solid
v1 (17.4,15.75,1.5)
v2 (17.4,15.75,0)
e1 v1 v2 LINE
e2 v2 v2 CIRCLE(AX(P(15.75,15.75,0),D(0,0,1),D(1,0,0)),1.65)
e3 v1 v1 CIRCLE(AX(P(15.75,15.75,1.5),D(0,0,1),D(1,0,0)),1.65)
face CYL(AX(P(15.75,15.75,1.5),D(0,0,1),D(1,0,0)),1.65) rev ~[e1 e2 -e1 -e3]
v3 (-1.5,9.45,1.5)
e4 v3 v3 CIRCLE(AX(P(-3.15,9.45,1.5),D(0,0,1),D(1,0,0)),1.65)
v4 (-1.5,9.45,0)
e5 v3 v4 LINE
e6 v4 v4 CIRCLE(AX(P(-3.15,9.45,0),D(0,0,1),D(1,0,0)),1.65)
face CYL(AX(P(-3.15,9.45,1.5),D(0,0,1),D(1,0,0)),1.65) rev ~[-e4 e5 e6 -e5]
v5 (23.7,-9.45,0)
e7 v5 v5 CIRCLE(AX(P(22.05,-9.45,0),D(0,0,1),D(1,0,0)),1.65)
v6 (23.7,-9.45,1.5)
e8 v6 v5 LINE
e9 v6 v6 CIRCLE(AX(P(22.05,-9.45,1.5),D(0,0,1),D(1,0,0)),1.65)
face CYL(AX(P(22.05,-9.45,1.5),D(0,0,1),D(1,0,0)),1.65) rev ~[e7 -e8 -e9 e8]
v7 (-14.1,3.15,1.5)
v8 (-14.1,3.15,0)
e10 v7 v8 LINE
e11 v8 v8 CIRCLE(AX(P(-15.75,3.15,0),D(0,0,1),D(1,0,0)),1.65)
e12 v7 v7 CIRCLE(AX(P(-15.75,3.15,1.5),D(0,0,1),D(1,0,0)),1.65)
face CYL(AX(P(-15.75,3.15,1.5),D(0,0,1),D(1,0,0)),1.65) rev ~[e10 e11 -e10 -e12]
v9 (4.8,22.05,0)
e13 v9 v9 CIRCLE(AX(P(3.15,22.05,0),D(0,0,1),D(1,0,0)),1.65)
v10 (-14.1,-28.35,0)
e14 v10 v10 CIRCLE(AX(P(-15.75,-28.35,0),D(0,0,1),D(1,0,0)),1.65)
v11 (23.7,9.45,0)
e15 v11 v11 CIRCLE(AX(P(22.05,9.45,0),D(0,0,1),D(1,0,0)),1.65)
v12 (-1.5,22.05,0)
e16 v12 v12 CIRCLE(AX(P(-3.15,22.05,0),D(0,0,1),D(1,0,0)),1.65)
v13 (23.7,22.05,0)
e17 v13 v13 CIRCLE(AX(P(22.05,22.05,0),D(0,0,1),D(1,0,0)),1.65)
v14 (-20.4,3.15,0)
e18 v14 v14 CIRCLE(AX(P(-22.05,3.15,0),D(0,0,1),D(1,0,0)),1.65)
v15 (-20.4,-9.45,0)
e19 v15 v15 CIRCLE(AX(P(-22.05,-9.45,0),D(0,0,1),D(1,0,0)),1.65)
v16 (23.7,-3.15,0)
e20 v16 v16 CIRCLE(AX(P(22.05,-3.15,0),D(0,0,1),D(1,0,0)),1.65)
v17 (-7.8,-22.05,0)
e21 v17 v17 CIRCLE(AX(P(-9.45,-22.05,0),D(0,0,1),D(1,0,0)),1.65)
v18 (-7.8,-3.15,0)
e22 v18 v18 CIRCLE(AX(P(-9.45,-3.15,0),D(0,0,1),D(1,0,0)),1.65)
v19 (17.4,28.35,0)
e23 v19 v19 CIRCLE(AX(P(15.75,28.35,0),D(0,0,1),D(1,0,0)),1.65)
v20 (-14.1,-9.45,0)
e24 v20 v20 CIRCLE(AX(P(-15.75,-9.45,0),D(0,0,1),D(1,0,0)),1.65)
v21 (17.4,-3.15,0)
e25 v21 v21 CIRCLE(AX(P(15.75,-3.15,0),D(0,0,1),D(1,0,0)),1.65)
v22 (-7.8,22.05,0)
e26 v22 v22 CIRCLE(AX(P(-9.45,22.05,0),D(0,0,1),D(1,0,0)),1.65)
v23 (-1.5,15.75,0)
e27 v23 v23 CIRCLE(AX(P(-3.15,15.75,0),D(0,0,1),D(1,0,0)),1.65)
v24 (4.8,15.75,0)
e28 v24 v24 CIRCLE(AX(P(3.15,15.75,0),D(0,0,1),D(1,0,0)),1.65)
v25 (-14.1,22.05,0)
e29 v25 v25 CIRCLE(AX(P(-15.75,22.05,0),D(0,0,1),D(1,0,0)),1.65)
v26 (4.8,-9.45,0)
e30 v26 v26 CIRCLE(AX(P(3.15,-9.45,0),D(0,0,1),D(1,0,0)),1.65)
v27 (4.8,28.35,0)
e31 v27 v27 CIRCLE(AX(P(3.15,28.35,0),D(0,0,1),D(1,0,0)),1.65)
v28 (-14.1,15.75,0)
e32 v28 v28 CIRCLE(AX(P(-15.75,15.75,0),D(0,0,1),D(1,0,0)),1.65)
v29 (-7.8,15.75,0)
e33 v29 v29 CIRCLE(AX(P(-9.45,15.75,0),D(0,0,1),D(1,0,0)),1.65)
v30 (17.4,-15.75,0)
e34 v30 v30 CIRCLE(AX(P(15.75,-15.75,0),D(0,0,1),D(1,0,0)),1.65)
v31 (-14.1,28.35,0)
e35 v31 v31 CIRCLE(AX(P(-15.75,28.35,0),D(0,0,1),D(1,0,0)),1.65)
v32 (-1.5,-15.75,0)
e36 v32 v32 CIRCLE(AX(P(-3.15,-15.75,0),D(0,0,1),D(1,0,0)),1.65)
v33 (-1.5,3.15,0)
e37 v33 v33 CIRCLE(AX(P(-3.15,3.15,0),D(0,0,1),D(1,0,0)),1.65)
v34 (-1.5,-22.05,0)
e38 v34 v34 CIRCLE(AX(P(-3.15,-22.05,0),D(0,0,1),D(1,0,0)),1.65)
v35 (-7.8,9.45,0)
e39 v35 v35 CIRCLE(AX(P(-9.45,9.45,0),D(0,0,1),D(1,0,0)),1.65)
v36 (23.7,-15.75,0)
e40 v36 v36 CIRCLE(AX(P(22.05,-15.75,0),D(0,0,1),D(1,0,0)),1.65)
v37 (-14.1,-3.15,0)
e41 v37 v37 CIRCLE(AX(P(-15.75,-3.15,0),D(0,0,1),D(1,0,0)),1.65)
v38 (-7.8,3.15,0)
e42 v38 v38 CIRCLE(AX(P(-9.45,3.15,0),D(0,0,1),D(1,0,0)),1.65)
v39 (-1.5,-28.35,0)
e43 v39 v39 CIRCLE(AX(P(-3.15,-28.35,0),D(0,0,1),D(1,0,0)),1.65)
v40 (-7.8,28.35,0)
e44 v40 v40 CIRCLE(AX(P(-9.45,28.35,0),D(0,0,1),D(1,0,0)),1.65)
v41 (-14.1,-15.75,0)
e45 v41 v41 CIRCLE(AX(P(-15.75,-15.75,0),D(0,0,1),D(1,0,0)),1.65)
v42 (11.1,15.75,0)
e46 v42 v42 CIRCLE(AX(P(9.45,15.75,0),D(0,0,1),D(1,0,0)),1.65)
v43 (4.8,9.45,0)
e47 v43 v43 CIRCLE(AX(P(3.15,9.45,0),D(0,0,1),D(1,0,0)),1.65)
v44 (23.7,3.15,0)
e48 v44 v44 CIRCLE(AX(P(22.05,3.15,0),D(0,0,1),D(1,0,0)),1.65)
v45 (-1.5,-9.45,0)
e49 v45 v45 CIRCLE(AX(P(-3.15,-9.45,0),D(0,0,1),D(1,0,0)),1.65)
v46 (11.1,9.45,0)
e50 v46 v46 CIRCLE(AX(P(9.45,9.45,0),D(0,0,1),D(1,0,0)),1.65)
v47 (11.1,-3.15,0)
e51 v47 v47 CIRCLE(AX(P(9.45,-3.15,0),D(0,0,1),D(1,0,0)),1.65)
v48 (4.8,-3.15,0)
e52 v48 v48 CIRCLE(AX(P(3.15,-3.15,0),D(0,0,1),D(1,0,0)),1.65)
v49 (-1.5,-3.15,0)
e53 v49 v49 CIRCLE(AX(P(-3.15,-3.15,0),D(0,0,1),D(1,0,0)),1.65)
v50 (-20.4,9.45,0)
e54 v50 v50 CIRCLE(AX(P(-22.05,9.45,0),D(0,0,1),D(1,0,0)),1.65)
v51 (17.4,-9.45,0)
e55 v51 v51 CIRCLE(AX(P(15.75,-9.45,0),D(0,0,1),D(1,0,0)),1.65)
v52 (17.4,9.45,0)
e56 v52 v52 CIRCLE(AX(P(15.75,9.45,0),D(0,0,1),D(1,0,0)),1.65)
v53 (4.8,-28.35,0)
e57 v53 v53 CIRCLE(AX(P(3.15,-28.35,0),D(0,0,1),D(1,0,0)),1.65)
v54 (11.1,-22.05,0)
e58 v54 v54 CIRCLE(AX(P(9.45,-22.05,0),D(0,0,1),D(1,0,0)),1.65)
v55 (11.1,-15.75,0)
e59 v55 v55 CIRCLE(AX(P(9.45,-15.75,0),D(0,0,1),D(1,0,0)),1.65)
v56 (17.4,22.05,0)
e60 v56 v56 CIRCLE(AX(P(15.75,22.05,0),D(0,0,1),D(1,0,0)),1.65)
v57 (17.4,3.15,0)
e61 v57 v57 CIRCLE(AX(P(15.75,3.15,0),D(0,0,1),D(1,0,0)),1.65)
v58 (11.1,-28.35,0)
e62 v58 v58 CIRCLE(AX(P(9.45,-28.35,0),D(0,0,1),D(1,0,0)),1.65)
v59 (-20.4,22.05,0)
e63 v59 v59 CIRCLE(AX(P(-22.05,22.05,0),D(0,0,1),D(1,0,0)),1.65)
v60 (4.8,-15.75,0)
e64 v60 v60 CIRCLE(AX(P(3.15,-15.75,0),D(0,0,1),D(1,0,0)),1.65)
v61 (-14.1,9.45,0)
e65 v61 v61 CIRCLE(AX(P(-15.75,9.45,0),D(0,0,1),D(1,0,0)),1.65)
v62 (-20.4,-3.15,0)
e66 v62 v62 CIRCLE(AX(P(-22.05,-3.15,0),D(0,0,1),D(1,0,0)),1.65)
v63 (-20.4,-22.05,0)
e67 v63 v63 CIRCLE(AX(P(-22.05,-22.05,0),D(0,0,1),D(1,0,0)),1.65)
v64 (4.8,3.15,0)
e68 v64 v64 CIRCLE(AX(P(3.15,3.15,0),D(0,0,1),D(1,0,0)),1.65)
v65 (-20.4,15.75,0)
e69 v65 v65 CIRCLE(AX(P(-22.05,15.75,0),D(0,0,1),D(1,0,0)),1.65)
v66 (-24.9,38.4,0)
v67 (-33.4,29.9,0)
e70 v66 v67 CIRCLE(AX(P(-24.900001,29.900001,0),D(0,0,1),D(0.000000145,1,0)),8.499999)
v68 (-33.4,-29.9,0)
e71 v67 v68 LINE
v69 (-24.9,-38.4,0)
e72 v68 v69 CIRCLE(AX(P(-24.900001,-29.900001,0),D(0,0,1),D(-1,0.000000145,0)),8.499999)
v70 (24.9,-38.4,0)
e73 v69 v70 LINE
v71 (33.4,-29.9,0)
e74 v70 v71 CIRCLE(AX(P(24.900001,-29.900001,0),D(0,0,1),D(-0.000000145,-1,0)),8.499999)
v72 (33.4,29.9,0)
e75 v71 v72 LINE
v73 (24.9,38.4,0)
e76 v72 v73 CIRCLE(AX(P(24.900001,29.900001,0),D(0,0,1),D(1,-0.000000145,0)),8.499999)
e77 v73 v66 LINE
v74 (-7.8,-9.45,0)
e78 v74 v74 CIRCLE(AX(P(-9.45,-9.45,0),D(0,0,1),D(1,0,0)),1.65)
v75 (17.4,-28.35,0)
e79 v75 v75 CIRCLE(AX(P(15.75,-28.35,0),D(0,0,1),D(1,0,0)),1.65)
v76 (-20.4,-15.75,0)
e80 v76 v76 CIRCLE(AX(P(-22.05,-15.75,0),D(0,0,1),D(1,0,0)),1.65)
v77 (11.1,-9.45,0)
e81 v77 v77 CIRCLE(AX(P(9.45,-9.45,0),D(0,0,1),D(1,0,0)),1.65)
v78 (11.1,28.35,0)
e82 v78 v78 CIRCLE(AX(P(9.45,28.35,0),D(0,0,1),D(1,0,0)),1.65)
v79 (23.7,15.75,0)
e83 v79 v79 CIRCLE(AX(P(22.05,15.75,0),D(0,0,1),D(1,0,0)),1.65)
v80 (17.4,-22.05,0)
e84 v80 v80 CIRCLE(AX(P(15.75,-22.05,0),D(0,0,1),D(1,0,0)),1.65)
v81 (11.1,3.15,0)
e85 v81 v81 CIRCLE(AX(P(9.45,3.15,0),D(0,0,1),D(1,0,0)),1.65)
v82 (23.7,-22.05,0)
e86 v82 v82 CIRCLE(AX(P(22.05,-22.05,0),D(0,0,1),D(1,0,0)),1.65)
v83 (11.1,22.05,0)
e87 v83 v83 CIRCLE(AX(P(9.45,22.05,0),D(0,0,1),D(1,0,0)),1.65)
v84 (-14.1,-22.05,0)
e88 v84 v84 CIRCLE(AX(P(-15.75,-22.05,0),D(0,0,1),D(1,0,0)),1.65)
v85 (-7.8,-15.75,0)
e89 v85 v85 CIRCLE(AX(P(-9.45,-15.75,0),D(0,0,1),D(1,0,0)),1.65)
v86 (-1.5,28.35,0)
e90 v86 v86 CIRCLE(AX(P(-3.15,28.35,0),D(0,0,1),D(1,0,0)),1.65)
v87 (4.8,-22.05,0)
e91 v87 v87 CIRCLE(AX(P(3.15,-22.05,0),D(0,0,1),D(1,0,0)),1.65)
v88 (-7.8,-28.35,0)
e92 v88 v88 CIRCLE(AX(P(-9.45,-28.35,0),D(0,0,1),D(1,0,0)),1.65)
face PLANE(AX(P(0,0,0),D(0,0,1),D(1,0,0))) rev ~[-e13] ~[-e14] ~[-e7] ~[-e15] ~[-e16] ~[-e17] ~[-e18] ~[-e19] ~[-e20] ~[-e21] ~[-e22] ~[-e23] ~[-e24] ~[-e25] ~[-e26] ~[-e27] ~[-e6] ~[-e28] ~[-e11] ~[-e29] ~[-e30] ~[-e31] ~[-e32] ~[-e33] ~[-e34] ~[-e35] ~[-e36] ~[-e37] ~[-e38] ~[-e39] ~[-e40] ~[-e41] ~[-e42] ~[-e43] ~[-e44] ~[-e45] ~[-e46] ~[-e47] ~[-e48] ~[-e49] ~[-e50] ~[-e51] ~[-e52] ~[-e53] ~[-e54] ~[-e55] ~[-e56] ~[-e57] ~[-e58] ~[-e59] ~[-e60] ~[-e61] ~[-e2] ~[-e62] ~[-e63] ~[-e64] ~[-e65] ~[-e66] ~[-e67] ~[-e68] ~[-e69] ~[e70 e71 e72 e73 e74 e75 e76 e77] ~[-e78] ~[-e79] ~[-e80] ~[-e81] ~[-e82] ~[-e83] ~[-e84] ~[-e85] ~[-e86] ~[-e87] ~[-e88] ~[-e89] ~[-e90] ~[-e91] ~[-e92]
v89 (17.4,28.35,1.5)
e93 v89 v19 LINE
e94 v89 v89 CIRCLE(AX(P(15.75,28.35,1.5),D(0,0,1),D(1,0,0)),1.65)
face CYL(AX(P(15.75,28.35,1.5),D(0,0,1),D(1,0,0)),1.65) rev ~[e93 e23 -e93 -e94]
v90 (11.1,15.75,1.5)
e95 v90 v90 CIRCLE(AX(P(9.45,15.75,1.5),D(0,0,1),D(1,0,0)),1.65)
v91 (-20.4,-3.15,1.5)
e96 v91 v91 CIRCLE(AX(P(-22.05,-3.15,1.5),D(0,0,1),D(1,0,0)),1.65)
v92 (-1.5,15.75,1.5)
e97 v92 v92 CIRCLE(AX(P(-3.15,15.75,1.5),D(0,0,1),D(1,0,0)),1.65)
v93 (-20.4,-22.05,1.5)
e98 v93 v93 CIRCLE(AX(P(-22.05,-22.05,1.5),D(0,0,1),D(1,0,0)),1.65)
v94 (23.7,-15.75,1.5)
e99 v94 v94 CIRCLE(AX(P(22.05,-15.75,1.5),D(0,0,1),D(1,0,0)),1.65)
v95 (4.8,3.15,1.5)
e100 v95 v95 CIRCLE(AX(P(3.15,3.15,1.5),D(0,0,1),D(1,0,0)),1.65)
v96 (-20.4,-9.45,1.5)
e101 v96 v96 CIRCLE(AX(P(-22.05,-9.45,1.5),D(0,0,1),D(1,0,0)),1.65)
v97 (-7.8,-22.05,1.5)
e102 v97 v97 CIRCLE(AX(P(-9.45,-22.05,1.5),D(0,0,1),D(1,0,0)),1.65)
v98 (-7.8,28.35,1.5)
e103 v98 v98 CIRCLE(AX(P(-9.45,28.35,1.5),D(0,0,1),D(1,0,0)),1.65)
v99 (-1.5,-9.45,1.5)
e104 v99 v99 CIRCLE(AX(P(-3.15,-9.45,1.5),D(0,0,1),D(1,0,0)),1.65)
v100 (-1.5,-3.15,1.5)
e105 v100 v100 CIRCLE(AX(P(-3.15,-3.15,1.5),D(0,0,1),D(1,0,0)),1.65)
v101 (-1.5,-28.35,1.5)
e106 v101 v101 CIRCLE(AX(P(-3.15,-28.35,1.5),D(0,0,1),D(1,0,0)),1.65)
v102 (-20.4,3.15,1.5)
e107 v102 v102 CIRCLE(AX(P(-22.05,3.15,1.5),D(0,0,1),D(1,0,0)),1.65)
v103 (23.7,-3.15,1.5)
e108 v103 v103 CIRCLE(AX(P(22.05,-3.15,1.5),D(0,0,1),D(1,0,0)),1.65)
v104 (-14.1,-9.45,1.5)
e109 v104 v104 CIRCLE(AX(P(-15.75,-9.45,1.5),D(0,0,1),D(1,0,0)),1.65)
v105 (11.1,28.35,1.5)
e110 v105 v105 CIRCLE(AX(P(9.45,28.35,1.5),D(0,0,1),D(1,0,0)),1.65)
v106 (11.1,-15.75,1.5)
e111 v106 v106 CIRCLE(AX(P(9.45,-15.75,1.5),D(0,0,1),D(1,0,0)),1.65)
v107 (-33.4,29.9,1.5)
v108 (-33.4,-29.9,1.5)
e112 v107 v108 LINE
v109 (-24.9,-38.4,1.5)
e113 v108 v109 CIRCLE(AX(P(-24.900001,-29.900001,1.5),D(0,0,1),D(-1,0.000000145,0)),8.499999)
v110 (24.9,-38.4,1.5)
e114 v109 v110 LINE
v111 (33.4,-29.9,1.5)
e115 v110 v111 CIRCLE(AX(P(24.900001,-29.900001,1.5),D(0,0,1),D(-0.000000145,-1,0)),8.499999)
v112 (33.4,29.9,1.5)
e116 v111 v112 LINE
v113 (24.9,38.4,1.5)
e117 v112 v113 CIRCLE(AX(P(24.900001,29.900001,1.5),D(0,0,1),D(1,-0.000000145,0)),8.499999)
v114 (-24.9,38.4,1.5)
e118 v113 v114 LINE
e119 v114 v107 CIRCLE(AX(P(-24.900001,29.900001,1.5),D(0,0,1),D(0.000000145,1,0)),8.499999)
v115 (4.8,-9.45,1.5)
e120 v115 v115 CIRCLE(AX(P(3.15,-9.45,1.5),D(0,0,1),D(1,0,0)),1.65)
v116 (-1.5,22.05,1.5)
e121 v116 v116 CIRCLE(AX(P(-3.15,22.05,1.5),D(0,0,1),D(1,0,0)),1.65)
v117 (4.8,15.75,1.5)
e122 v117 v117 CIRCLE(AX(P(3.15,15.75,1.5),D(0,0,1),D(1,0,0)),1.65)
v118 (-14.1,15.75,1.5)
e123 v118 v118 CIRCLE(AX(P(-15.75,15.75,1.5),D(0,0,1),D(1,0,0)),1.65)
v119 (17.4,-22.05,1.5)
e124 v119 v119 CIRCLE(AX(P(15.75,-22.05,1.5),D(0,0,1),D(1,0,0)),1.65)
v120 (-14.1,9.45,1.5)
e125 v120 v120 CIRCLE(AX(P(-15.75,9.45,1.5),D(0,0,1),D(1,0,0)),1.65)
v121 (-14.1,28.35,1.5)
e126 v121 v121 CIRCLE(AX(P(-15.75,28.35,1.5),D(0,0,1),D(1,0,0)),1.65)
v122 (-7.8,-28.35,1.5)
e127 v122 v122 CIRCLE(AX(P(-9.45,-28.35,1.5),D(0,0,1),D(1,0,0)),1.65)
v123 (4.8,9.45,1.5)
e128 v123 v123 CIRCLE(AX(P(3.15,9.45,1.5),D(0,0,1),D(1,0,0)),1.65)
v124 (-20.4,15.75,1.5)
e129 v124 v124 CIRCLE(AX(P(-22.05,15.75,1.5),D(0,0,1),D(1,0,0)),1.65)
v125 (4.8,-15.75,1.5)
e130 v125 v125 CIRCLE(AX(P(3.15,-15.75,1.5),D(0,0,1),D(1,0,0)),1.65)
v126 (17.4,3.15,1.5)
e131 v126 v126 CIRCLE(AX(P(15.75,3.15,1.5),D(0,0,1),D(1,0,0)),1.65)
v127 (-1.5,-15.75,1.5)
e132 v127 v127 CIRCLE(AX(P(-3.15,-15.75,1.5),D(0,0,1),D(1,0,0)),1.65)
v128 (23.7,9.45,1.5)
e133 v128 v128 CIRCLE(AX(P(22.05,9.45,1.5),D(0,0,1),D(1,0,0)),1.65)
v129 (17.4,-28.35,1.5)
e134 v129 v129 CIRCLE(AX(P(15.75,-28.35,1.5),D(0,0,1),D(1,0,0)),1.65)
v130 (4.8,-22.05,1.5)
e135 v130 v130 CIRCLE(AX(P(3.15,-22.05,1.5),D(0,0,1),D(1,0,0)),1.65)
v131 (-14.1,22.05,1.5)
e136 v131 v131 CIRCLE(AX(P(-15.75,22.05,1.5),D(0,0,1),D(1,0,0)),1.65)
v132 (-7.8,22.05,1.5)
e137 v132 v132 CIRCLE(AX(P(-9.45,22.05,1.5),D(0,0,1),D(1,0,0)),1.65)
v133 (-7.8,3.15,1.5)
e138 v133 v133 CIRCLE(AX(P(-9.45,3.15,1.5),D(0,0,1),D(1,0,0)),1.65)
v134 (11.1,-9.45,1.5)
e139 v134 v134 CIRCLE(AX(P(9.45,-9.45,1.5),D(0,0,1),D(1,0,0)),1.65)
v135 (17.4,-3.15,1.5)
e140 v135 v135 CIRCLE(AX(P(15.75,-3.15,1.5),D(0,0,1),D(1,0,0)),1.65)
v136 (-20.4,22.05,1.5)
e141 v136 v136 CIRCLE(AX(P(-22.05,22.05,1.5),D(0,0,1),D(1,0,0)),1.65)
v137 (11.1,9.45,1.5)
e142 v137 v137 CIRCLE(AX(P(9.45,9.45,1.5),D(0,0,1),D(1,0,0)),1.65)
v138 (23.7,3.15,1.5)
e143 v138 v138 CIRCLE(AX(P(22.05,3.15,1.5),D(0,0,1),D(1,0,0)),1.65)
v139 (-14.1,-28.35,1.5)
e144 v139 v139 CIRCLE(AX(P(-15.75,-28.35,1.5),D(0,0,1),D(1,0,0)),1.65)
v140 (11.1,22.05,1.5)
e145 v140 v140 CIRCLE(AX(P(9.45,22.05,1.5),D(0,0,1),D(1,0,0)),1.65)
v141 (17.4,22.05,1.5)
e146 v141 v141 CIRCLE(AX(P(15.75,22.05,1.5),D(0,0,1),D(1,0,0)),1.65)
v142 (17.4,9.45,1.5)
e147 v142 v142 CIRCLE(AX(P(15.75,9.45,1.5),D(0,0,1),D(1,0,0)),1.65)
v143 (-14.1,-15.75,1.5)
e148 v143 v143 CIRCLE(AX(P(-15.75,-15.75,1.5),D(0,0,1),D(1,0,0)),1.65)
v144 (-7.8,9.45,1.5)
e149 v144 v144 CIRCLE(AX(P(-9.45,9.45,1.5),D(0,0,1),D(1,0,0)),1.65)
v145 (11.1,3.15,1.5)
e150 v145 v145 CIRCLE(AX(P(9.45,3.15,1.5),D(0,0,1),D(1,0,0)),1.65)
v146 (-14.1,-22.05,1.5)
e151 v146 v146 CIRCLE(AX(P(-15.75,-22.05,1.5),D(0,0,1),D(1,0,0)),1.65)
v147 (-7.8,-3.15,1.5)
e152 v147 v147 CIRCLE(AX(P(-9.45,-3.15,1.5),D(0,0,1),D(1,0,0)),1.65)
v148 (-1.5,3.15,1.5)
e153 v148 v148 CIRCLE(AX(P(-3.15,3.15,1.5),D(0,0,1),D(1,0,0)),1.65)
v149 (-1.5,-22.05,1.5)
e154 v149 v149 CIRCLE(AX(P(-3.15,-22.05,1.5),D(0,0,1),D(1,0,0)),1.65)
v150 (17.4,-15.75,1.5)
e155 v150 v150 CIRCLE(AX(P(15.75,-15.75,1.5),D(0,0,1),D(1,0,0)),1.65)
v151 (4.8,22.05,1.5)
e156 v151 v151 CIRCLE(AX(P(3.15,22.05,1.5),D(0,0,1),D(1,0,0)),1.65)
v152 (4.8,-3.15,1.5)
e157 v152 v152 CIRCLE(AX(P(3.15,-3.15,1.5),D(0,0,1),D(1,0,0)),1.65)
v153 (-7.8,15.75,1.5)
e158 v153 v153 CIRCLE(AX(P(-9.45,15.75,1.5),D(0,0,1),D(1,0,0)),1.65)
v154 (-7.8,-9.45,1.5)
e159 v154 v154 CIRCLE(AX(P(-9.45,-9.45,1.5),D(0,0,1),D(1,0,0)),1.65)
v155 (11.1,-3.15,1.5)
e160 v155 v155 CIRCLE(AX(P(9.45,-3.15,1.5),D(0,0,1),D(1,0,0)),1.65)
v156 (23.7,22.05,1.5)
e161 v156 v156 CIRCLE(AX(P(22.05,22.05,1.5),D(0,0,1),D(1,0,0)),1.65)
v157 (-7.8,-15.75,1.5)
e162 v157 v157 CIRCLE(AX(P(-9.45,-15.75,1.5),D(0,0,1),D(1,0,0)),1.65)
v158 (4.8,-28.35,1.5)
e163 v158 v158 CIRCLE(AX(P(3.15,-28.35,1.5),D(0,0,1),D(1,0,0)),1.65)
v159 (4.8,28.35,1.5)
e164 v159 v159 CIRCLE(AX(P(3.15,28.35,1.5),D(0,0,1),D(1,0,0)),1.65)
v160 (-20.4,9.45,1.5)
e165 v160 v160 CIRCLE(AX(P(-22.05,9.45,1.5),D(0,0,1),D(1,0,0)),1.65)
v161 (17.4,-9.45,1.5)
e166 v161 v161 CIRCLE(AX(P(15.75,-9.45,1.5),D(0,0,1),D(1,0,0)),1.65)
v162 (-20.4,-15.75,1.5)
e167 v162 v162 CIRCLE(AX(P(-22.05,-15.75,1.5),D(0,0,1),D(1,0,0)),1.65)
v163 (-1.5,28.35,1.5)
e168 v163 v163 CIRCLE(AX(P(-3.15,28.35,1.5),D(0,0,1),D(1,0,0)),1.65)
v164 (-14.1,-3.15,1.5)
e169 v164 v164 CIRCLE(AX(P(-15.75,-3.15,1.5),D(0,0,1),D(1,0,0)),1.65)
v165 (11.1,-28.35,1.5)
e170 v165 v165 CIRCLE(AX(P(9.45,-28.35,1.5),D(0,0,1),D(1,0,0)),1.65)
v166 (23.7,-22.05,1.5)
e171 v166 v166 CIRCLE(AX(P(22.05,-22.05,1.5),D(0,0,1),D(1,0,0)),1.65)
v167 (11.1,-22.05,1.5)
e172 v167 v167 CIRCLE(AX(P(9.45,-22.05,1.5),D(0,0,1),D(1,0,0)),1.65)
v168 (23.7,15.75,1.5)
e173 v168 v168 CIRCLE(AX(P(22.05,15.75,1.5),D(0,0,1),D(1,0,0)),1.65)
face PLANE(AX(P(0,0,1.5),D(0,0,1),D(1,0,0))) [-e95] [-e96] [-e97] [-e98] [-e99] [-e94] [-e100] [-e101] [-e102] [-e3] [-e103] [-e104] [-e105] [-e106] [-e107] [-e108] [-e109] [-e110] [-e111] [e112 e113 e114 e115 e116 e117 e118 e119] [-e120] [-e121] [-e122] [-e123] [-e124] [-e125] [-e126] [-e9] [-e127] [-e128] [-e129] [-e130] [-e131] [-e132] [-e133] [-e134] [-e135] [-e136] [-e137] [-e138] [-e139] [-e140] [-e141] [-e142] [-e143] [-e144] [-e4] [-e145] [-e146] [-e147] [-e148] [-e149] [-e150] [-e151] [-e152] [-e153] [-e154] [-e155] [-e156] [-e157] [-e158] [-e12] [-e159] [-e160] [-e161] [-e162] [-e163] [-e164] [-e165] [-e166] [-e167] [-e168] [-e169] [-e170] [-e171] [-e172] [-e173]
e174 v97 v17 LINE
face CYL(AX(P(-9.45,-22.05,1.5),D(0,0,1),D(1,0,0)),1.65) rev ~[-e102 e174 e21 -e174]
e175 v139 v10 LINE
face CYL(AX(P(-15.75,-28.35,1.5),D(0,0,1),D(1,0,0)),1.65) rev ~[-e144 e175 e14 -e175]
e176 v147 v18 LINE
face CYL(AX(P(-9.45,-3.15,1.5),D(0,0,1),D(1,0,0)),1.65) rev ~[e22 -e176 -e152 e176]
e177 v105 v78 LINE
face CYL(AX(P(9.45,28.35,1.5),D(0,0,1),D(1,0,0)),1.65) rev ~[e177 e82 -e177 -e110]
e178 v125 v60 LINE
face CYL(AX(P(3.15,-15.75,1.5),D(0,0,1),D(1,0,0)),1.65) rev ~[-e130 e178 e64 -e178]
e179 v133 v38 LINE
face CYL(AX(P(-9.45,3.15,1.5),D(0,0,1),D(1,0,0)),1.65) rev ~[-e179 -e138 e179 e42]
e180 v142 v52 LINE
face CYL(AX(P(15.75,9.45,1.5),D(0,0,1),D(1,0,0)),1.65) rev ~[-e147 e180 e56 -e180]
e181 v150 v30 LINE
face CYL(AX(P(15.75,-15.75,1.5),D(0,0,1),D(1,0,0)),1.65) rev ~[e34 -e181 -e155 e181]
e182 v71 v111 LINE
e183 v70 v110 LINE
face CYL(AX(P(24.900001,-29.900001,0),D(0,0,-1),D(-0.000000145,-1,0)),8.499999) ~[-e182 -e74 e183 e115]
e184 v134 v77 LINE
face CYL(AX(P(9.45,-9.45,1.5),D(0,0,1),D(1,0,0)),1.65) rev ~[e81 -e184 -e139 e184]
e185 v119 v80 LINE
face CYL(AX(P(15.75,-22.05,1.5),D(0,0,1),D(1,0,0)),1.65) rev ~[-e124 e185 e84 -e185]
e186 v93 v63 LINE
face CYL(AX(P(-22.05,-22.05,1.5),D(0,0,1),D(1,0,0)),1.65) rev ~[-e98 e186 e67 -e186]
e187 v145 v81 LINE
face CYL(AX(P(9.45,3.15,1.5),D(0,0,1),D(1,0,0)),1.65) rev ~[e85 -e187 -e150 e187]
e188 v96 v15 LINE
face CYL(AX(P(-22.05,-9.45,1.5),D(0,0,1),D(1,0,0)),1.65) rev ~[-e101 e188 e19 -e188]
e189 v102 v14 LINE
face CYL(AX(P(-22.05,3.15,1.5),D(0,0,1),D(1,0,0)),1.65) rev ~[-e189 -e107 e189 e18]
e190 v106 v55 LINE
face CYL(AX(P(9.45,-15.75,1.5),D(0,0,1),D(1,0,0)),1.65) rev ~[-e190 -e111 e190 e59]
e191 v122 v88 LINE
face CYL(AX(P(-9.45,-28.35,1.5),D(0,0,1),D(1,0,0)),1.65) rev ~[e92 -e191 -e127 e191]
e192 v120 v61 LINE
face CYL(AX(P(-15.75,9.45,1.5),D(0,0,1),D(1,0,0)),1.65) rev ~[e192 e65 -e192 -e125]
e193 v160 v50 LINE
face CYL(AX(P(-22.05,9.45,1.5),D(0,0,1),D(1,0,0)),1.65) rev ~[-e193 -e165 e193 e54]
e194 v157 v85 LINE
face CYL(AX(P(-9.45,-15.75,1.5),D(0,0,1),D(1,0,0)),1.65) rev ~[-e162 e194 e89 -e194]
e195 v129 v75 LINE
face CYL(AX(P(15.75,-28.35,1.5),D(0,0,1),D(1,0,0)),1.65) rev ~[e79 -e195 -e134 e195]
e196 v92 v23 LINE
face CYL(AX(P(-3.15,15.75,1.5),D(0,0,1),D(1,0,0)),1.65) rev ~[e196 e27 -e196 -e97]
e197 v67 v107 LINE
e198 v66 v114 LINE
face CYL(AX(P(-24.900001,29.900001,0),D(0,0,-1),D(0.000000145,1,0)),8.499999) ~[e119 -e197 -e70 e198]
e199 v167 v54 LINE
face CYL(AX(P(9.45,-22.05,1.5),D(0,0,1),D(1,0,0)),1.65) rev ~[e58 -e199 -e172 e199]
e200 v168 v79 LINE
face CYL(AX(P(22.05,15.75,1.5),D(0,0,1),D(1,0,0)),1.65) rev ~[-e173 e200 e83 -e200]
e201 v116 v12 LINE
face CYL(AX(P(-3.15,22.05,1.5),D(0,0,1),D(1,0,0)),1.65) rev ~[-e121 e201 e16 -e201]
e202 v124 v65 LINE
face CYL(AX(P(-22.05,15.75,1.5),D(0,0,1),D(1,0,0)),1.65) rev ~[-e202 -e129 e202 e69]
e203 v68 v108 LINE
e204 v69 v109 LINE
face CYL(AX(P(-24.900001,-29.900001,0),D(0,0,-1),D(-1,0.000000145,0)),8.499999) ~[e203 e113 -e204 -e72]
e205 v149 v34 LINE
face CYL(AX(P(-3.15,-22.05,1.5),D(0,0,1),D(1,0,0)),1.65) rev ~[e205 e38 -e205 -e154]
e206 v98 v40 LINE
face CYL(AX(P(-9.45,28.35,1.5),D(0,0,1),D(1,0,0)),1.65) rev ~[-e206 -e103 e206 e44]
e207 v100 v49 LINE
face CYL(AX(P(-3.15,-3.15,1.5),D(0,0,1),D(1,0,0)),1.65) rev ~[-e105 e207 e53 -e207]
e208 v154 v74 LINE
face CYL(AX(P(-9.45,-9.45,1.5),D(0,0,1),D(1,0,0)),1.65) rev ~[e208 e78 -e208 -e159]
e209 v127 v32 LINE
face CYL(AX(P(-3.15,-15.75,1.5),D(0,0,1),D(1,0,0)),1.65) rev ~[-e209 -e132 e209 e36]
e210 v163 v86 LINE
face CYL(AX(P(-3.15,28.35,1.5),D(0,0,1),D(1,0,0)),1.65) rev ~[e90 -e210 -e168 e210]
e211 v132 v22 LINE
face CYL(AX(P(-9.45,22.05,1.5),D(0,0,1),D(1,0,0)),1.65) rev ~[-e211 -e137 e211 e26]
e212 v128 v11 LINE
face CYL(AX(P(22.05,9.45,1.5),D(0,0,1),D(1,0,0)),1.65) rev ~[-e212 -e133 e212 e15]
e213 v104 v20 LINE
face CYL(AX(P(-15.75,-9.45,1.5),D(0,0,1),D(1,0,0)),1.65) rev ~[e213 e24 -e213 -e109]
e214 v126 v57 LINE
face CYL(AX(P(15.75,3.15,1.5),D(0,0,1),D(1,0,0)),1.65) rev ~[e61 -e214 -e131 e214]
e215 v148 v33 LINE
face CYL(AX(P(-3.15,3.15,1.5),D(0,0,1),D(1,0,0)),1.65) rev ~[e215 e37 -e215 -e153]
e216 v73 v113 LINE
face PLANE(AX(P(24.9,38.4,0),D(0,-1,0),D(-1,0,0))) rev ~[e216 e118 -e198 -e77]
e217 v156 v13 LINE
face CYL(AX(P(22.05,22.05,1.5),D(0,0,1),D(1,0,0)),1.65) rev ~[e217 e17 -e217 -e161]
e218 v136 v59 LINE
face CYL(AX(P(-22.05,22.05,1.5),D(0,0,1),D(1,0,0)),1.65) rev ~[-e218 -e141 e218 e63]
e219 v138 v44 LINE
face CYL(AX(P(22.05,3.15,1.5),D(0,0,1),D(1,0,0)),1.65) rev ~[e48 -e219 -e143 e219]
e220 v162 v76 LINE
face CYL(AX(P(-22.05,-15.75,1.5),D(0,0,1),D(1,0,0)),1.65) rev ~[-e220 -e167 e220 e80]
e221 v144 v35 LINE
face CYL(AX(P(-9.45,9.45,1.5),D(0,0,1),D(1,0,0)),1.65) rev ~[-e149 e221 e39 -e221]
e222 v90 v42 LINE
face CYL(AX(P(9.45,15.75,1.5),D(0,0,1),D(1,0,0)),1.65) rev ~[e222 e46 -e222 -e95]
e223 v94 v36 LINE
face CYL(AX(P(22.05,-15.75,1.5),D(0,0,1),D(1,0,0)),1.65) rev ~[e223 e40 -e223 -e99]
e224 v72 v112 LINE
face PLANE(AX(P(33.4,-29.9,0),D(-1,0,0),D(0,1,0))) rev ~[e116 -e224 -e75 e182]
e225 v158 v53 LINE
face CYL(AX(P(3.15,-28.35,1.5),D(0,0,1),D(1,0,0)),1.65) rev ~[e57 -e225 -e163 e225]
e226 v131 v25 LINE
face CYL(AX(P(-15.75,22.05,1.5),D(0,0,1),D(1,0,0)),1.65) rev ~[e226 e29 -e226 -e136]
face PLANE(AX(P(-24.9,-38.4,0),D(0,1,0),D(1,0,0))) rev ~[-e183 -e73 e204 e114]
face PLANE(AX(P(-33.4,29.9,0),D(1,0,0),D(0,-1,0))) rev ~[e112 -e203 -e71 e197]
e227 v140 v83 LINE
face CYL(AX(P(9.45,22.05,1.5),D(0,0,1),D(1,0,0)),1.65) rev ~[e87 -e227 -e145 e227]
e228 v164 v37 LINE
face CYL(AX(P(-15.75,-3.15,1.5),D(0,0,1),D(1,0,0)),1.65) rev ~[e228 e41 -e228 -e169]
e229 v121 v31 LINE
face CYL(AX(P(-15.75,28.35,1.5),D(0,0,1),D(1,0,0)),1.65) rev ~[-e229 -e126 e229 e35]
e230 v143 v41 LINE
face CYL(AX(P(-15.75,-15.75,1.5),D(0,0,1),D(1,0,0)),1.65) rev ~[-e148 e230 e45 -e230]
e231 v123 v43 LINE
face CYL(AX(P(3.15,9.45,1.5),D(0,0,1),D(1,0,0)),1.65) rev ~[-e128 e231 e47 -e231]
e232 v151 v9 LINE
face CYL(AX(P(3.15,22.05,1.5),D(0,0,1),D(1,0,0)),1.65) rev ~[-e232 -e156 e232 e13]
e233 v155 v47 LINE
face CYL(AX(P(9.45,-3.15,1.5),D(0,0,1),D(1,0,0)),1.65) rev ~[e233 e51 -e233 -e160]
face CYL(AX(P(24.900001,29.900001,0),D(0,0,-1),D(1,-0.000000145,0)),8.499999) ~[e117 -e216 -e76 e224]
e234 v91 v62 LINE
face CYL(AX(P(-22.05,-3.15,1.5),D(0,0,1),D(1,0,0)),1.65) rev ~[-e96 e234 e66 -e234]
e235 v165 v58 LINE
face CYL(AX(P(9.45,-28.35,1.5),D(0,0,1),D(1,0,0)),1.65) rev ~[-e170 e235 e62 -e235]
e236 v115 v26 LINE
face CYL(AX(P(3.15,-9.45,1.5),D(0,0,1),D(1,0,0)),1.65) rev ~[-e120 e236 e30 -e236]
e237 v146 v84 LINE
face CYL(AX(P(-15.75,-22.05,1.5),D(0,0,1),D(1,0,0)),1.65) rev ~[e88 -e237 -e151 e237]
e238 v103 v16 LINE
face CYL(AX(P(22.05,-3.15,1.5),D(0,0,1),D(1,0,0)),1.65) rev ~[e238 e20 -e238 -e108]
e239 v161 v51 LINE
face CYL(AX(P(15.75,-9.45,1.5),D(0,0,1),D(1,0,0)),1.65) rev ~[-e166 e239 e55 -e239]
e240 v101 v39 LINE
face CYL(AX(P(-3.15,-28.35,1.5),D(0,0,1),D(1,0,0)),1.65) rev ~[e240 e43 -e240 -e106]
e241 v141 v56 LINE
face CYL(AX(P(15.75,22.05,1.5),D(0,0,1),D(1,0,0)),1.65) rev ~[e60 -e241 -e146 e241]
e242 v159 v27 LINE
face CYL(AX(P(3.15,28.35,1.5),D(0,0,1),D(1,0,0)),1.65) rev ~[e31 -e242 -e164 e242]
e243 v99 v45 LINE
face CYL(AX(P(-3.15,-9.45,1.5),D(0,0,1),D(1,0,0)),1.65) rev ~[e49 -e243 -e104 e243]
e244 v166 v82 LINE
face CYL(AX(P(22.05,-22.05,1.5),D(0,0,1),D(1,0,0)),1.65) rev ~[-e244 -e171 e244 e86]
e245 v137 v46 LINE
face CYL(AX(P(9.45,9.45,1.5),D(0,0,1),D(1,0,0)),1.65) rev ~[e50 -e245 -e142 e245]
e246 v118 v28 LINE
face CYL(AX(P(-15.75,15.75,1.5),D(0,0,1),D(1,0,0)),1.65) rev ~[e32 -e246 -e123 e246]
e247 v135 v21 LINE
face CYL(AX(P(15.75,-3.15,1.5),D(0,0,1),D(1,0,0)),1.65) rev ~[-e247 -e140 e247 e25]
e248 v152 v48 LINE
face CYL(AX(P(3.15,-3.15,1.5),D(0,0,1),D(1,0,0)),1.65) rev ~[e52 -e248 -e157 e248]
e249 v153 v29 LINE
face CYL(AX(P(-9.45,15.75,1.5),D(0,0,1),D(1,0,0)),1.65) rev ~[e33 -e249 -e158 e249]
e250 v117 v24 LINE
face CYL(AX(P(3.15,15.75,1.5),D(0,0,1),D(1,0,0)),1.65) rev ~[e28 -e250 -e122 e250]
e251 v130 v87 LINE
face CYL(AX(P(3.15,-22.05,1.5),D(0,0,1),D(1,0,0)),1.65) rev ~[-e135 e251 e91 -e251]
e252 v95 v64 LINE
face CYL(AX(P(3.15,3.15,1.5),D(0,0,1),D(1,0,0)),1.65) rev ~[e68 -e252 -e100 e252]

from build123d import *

# Parameters (mm, degrees)
F1_DEPTH      = 1.5
F3_R          = 1.65
F4_DEPTH      = 12.2
F4_DEPTH_BACK = 25


with BuildPart() as f1:
    # F0 (on Top) → F1 (new body)
    with BuildSketch(Plane.XY):
        with BuildLine():
            ThreePointArc((33.4, 29.9), (30.910408, 35.910408), (24.9, 38.4))
            Line((24.9, 38.4), (-24.9, 38.4))
            ThreePointArc((-24.9, 38.4), (-30.910408, 35.910408), (-33.4, 29.9))
            Line((-33.4, 29.9), (-33.4, -29.9))
            ThreePointArc((-33.4, -29.9), (-30.910408, -35.910408), (-24.9, -38.4))
            Line((-24.9, -38.4), (24.9, -38.4))
            ThreePointArc((24.9, -38.4), (30.910408, -35.910408), (33.4, -29.9))
            Line((33.4, -29.9), (33.4, 29.9))
        make_face()
    extrude(amount=F1_DEPTH)

    # F3 (on face) → F4 (cut, two sides)
    with BuildSketch(Plane.XY.offset(1.5)) as f4_sk:
        with Locations((-22.05, 22.05)):
            Circle(F3_R)
        with Locations((-22.05, 15.75)):
            Circle(F3_R)
        with Locations((-22.05, 9.45)):
            Circle(F3_R)
        with Locations((-22.05, 3.15)):
            Circle(F3_R)
        with Locations((-22.05, -3.15)):
            Circle(F3_R)
        with Locations((-22.05, -9.45)):
            Circle(F3_R)
        with Locations((-22.05, -15.75)):
            Circle(F3_R)
        with Locations((-22.05, -22.05)):
            Circle(F3_R)
        with Locations((-15.75, 28.35)):
            Circle(F3_R)
        with Locations((-15.75, 22.05)):
            Circle(F3_R)
        with Locations((-15.75, 15.75)):
            Circle(F3_R)
        with Locations((-15.75, 9.45)):
            Circle(F3_R)
        with Locations((-15.75, 3.15)):
            Circle(F3_R)
        with Locations((-15.75, -3.15)):
            Circle(F3_R)
        with Locations((-15.75, -9.45)):
            Circle(F3_R)
        with Locations((-15.75, -15.75)):
            Circle(F3_R)
        with Locations((-15.75, -22.05)):
            Circle(F3_R)
        with Locations((-15.75, -28.35)):
            Circle(F3_R)
        with Locations((-9.45, 28.35)):
            Circle(F3_R)
        with Locations((-9.45, 22.05)):
            Circle(F3_R)
        with Locations((-9.45, 15.75)):
            Circle(F3_R)
        with Locations((-9.45, 9.45)):
            Circle(F3_R)
        with Locations((-9.45, 3.15)):
            Circle(F3_R)
        with Locations((-9.45, -3.15)):
            Circle(F3_R)
        with Locations((-9.45, -9.45)):
            Circle(F3_R)
        with Locations((-9.45, -15.75)):
            Circle(F3_R)
        with Locations((-9.45, -22.05)):
            Circle(F3_R)
        with Locations((-9.45, -28.35)):
            Circle(F3_R)
        with Locations((-3.15, 28.35)):
            Circle(F3_R)
        with Locations((-3.15, 22.05)):
            Circle(F3_R)
        with Locations((-3.15, 15.75)):
            Circle(F3_R)
        with Locations((-3.15, 9.45)):
            Circle(F3_R)
        with Locations((-3.15, 3.15)):
            Circle(F3_R)
        with Locations((-3.15, -3.15)):
            Circle(F3_R)
        with Locations((-3.15, -9.45)):
            Circle(F3_R)
        with Locations((-3.15, -15.75)):
            Circle(F3_R)
        with Locations((-3.15, -22.05)):
            Circle(F3_R)
        with Locations((-3.15, -28.35)):
            Circle(F3_R)
        with Locations((3.15, 28.35)):
            Circle(F3_R)
        with Locations((3.15, 22.05)):
            Circle(F3_R)
        with Locations((3.15, 15.75)):
            Circle(F3_R)
        with Locations((3.15, 9.45)):
            Circle(F3_R)
        with Locations((3.15, 3.15)):
            Circle(F3_R)
        with Locations((3.15, -3.15)):
            Circle(F3_R)
        with Locations((3.15, -9.45)):
            Circle(F3_R)
        with Locations((3.15, -15.75)):
            Circle(F3_R)
        with Locations((3.15, -22.05)):
            Circle(F3_R)
        with Locations((3.15, -28.35)):
            Circle(F3_R)
        with Locations((9.45, 28.35)):
            Circle(F3_R)
        with Locations((9.45, 22.05)):
            Circle(F3_R)
        with Locations((9.45, 15.75)):
            Circle(F3_R)
        with Locations((9.45, 9.45)):
            Circle(F3_R)
        with Locations((9.45, 3.15)):
            Circle(F3_R)
        with Locations((9.45, -3.15)):
            Circle(F3_R)
        with Locations((9.45, -9.45)):
            Circle(F3_R)
        with Locations((9.45, -15.75)):
            Circle(F3_R)
        with Locations((9.45, -22.05)):
            Circle(F3_R)
        with Locations((9.45, -28.35)):
            Circle(F3_R)
        with Locations((15.75, 28.35)):
            Circle(F3_R)
        with Locations((15.75, 22.05)):
            Circle(F3_R)
        with Locations((15.75, 15.75)):
            Circle(F3_R)
        with Locations((15.75, 9.45)):
            Circle(F3_R)
        with Locations((15.75, 3.15)):
            Circle(F3_R)
        with Locations((15.75, -3.15)):
            Circle(F3_R)
        with Locations((15.75, -9.45)):
            Circle(F3_R)
        with Locations((15.75, -15.75)):
            Circle(F3_R)
        with Locations((15.75, -22.05)):
            Circle(F3_R)
        with Locations((15.75, -28.35)):
            Circle(F3_R)
        with Locations((22.05, 22.05)):
            Circle(F3_R)
        with Locations((22.05, 15.75)):
            Circle(F3_R)
        with Locations((22.05, 9.45)):
            Circle(F3_R)
        with Locations((22.05, 3.15)):
            Circle(F3_R)
        with Locations((22.05, -3.15)):
            Circle(F3_R)
        with Locations((22.05, -9.45)):
            Circle(F3_R)
        with Locations((22.05, -15.75)):
            Circle(F3_R)
        with Locations((22.05, -22.05)):
            Circle(F3_R)
    extrude(amount=-F4_DEPTH, mode=Mode.SUBTRACT)
    extrude(f4_sk.sketch, amount=-F4_DEPTH_BACK, mode=Mode.SUBTRACT)


solid = f1.part
